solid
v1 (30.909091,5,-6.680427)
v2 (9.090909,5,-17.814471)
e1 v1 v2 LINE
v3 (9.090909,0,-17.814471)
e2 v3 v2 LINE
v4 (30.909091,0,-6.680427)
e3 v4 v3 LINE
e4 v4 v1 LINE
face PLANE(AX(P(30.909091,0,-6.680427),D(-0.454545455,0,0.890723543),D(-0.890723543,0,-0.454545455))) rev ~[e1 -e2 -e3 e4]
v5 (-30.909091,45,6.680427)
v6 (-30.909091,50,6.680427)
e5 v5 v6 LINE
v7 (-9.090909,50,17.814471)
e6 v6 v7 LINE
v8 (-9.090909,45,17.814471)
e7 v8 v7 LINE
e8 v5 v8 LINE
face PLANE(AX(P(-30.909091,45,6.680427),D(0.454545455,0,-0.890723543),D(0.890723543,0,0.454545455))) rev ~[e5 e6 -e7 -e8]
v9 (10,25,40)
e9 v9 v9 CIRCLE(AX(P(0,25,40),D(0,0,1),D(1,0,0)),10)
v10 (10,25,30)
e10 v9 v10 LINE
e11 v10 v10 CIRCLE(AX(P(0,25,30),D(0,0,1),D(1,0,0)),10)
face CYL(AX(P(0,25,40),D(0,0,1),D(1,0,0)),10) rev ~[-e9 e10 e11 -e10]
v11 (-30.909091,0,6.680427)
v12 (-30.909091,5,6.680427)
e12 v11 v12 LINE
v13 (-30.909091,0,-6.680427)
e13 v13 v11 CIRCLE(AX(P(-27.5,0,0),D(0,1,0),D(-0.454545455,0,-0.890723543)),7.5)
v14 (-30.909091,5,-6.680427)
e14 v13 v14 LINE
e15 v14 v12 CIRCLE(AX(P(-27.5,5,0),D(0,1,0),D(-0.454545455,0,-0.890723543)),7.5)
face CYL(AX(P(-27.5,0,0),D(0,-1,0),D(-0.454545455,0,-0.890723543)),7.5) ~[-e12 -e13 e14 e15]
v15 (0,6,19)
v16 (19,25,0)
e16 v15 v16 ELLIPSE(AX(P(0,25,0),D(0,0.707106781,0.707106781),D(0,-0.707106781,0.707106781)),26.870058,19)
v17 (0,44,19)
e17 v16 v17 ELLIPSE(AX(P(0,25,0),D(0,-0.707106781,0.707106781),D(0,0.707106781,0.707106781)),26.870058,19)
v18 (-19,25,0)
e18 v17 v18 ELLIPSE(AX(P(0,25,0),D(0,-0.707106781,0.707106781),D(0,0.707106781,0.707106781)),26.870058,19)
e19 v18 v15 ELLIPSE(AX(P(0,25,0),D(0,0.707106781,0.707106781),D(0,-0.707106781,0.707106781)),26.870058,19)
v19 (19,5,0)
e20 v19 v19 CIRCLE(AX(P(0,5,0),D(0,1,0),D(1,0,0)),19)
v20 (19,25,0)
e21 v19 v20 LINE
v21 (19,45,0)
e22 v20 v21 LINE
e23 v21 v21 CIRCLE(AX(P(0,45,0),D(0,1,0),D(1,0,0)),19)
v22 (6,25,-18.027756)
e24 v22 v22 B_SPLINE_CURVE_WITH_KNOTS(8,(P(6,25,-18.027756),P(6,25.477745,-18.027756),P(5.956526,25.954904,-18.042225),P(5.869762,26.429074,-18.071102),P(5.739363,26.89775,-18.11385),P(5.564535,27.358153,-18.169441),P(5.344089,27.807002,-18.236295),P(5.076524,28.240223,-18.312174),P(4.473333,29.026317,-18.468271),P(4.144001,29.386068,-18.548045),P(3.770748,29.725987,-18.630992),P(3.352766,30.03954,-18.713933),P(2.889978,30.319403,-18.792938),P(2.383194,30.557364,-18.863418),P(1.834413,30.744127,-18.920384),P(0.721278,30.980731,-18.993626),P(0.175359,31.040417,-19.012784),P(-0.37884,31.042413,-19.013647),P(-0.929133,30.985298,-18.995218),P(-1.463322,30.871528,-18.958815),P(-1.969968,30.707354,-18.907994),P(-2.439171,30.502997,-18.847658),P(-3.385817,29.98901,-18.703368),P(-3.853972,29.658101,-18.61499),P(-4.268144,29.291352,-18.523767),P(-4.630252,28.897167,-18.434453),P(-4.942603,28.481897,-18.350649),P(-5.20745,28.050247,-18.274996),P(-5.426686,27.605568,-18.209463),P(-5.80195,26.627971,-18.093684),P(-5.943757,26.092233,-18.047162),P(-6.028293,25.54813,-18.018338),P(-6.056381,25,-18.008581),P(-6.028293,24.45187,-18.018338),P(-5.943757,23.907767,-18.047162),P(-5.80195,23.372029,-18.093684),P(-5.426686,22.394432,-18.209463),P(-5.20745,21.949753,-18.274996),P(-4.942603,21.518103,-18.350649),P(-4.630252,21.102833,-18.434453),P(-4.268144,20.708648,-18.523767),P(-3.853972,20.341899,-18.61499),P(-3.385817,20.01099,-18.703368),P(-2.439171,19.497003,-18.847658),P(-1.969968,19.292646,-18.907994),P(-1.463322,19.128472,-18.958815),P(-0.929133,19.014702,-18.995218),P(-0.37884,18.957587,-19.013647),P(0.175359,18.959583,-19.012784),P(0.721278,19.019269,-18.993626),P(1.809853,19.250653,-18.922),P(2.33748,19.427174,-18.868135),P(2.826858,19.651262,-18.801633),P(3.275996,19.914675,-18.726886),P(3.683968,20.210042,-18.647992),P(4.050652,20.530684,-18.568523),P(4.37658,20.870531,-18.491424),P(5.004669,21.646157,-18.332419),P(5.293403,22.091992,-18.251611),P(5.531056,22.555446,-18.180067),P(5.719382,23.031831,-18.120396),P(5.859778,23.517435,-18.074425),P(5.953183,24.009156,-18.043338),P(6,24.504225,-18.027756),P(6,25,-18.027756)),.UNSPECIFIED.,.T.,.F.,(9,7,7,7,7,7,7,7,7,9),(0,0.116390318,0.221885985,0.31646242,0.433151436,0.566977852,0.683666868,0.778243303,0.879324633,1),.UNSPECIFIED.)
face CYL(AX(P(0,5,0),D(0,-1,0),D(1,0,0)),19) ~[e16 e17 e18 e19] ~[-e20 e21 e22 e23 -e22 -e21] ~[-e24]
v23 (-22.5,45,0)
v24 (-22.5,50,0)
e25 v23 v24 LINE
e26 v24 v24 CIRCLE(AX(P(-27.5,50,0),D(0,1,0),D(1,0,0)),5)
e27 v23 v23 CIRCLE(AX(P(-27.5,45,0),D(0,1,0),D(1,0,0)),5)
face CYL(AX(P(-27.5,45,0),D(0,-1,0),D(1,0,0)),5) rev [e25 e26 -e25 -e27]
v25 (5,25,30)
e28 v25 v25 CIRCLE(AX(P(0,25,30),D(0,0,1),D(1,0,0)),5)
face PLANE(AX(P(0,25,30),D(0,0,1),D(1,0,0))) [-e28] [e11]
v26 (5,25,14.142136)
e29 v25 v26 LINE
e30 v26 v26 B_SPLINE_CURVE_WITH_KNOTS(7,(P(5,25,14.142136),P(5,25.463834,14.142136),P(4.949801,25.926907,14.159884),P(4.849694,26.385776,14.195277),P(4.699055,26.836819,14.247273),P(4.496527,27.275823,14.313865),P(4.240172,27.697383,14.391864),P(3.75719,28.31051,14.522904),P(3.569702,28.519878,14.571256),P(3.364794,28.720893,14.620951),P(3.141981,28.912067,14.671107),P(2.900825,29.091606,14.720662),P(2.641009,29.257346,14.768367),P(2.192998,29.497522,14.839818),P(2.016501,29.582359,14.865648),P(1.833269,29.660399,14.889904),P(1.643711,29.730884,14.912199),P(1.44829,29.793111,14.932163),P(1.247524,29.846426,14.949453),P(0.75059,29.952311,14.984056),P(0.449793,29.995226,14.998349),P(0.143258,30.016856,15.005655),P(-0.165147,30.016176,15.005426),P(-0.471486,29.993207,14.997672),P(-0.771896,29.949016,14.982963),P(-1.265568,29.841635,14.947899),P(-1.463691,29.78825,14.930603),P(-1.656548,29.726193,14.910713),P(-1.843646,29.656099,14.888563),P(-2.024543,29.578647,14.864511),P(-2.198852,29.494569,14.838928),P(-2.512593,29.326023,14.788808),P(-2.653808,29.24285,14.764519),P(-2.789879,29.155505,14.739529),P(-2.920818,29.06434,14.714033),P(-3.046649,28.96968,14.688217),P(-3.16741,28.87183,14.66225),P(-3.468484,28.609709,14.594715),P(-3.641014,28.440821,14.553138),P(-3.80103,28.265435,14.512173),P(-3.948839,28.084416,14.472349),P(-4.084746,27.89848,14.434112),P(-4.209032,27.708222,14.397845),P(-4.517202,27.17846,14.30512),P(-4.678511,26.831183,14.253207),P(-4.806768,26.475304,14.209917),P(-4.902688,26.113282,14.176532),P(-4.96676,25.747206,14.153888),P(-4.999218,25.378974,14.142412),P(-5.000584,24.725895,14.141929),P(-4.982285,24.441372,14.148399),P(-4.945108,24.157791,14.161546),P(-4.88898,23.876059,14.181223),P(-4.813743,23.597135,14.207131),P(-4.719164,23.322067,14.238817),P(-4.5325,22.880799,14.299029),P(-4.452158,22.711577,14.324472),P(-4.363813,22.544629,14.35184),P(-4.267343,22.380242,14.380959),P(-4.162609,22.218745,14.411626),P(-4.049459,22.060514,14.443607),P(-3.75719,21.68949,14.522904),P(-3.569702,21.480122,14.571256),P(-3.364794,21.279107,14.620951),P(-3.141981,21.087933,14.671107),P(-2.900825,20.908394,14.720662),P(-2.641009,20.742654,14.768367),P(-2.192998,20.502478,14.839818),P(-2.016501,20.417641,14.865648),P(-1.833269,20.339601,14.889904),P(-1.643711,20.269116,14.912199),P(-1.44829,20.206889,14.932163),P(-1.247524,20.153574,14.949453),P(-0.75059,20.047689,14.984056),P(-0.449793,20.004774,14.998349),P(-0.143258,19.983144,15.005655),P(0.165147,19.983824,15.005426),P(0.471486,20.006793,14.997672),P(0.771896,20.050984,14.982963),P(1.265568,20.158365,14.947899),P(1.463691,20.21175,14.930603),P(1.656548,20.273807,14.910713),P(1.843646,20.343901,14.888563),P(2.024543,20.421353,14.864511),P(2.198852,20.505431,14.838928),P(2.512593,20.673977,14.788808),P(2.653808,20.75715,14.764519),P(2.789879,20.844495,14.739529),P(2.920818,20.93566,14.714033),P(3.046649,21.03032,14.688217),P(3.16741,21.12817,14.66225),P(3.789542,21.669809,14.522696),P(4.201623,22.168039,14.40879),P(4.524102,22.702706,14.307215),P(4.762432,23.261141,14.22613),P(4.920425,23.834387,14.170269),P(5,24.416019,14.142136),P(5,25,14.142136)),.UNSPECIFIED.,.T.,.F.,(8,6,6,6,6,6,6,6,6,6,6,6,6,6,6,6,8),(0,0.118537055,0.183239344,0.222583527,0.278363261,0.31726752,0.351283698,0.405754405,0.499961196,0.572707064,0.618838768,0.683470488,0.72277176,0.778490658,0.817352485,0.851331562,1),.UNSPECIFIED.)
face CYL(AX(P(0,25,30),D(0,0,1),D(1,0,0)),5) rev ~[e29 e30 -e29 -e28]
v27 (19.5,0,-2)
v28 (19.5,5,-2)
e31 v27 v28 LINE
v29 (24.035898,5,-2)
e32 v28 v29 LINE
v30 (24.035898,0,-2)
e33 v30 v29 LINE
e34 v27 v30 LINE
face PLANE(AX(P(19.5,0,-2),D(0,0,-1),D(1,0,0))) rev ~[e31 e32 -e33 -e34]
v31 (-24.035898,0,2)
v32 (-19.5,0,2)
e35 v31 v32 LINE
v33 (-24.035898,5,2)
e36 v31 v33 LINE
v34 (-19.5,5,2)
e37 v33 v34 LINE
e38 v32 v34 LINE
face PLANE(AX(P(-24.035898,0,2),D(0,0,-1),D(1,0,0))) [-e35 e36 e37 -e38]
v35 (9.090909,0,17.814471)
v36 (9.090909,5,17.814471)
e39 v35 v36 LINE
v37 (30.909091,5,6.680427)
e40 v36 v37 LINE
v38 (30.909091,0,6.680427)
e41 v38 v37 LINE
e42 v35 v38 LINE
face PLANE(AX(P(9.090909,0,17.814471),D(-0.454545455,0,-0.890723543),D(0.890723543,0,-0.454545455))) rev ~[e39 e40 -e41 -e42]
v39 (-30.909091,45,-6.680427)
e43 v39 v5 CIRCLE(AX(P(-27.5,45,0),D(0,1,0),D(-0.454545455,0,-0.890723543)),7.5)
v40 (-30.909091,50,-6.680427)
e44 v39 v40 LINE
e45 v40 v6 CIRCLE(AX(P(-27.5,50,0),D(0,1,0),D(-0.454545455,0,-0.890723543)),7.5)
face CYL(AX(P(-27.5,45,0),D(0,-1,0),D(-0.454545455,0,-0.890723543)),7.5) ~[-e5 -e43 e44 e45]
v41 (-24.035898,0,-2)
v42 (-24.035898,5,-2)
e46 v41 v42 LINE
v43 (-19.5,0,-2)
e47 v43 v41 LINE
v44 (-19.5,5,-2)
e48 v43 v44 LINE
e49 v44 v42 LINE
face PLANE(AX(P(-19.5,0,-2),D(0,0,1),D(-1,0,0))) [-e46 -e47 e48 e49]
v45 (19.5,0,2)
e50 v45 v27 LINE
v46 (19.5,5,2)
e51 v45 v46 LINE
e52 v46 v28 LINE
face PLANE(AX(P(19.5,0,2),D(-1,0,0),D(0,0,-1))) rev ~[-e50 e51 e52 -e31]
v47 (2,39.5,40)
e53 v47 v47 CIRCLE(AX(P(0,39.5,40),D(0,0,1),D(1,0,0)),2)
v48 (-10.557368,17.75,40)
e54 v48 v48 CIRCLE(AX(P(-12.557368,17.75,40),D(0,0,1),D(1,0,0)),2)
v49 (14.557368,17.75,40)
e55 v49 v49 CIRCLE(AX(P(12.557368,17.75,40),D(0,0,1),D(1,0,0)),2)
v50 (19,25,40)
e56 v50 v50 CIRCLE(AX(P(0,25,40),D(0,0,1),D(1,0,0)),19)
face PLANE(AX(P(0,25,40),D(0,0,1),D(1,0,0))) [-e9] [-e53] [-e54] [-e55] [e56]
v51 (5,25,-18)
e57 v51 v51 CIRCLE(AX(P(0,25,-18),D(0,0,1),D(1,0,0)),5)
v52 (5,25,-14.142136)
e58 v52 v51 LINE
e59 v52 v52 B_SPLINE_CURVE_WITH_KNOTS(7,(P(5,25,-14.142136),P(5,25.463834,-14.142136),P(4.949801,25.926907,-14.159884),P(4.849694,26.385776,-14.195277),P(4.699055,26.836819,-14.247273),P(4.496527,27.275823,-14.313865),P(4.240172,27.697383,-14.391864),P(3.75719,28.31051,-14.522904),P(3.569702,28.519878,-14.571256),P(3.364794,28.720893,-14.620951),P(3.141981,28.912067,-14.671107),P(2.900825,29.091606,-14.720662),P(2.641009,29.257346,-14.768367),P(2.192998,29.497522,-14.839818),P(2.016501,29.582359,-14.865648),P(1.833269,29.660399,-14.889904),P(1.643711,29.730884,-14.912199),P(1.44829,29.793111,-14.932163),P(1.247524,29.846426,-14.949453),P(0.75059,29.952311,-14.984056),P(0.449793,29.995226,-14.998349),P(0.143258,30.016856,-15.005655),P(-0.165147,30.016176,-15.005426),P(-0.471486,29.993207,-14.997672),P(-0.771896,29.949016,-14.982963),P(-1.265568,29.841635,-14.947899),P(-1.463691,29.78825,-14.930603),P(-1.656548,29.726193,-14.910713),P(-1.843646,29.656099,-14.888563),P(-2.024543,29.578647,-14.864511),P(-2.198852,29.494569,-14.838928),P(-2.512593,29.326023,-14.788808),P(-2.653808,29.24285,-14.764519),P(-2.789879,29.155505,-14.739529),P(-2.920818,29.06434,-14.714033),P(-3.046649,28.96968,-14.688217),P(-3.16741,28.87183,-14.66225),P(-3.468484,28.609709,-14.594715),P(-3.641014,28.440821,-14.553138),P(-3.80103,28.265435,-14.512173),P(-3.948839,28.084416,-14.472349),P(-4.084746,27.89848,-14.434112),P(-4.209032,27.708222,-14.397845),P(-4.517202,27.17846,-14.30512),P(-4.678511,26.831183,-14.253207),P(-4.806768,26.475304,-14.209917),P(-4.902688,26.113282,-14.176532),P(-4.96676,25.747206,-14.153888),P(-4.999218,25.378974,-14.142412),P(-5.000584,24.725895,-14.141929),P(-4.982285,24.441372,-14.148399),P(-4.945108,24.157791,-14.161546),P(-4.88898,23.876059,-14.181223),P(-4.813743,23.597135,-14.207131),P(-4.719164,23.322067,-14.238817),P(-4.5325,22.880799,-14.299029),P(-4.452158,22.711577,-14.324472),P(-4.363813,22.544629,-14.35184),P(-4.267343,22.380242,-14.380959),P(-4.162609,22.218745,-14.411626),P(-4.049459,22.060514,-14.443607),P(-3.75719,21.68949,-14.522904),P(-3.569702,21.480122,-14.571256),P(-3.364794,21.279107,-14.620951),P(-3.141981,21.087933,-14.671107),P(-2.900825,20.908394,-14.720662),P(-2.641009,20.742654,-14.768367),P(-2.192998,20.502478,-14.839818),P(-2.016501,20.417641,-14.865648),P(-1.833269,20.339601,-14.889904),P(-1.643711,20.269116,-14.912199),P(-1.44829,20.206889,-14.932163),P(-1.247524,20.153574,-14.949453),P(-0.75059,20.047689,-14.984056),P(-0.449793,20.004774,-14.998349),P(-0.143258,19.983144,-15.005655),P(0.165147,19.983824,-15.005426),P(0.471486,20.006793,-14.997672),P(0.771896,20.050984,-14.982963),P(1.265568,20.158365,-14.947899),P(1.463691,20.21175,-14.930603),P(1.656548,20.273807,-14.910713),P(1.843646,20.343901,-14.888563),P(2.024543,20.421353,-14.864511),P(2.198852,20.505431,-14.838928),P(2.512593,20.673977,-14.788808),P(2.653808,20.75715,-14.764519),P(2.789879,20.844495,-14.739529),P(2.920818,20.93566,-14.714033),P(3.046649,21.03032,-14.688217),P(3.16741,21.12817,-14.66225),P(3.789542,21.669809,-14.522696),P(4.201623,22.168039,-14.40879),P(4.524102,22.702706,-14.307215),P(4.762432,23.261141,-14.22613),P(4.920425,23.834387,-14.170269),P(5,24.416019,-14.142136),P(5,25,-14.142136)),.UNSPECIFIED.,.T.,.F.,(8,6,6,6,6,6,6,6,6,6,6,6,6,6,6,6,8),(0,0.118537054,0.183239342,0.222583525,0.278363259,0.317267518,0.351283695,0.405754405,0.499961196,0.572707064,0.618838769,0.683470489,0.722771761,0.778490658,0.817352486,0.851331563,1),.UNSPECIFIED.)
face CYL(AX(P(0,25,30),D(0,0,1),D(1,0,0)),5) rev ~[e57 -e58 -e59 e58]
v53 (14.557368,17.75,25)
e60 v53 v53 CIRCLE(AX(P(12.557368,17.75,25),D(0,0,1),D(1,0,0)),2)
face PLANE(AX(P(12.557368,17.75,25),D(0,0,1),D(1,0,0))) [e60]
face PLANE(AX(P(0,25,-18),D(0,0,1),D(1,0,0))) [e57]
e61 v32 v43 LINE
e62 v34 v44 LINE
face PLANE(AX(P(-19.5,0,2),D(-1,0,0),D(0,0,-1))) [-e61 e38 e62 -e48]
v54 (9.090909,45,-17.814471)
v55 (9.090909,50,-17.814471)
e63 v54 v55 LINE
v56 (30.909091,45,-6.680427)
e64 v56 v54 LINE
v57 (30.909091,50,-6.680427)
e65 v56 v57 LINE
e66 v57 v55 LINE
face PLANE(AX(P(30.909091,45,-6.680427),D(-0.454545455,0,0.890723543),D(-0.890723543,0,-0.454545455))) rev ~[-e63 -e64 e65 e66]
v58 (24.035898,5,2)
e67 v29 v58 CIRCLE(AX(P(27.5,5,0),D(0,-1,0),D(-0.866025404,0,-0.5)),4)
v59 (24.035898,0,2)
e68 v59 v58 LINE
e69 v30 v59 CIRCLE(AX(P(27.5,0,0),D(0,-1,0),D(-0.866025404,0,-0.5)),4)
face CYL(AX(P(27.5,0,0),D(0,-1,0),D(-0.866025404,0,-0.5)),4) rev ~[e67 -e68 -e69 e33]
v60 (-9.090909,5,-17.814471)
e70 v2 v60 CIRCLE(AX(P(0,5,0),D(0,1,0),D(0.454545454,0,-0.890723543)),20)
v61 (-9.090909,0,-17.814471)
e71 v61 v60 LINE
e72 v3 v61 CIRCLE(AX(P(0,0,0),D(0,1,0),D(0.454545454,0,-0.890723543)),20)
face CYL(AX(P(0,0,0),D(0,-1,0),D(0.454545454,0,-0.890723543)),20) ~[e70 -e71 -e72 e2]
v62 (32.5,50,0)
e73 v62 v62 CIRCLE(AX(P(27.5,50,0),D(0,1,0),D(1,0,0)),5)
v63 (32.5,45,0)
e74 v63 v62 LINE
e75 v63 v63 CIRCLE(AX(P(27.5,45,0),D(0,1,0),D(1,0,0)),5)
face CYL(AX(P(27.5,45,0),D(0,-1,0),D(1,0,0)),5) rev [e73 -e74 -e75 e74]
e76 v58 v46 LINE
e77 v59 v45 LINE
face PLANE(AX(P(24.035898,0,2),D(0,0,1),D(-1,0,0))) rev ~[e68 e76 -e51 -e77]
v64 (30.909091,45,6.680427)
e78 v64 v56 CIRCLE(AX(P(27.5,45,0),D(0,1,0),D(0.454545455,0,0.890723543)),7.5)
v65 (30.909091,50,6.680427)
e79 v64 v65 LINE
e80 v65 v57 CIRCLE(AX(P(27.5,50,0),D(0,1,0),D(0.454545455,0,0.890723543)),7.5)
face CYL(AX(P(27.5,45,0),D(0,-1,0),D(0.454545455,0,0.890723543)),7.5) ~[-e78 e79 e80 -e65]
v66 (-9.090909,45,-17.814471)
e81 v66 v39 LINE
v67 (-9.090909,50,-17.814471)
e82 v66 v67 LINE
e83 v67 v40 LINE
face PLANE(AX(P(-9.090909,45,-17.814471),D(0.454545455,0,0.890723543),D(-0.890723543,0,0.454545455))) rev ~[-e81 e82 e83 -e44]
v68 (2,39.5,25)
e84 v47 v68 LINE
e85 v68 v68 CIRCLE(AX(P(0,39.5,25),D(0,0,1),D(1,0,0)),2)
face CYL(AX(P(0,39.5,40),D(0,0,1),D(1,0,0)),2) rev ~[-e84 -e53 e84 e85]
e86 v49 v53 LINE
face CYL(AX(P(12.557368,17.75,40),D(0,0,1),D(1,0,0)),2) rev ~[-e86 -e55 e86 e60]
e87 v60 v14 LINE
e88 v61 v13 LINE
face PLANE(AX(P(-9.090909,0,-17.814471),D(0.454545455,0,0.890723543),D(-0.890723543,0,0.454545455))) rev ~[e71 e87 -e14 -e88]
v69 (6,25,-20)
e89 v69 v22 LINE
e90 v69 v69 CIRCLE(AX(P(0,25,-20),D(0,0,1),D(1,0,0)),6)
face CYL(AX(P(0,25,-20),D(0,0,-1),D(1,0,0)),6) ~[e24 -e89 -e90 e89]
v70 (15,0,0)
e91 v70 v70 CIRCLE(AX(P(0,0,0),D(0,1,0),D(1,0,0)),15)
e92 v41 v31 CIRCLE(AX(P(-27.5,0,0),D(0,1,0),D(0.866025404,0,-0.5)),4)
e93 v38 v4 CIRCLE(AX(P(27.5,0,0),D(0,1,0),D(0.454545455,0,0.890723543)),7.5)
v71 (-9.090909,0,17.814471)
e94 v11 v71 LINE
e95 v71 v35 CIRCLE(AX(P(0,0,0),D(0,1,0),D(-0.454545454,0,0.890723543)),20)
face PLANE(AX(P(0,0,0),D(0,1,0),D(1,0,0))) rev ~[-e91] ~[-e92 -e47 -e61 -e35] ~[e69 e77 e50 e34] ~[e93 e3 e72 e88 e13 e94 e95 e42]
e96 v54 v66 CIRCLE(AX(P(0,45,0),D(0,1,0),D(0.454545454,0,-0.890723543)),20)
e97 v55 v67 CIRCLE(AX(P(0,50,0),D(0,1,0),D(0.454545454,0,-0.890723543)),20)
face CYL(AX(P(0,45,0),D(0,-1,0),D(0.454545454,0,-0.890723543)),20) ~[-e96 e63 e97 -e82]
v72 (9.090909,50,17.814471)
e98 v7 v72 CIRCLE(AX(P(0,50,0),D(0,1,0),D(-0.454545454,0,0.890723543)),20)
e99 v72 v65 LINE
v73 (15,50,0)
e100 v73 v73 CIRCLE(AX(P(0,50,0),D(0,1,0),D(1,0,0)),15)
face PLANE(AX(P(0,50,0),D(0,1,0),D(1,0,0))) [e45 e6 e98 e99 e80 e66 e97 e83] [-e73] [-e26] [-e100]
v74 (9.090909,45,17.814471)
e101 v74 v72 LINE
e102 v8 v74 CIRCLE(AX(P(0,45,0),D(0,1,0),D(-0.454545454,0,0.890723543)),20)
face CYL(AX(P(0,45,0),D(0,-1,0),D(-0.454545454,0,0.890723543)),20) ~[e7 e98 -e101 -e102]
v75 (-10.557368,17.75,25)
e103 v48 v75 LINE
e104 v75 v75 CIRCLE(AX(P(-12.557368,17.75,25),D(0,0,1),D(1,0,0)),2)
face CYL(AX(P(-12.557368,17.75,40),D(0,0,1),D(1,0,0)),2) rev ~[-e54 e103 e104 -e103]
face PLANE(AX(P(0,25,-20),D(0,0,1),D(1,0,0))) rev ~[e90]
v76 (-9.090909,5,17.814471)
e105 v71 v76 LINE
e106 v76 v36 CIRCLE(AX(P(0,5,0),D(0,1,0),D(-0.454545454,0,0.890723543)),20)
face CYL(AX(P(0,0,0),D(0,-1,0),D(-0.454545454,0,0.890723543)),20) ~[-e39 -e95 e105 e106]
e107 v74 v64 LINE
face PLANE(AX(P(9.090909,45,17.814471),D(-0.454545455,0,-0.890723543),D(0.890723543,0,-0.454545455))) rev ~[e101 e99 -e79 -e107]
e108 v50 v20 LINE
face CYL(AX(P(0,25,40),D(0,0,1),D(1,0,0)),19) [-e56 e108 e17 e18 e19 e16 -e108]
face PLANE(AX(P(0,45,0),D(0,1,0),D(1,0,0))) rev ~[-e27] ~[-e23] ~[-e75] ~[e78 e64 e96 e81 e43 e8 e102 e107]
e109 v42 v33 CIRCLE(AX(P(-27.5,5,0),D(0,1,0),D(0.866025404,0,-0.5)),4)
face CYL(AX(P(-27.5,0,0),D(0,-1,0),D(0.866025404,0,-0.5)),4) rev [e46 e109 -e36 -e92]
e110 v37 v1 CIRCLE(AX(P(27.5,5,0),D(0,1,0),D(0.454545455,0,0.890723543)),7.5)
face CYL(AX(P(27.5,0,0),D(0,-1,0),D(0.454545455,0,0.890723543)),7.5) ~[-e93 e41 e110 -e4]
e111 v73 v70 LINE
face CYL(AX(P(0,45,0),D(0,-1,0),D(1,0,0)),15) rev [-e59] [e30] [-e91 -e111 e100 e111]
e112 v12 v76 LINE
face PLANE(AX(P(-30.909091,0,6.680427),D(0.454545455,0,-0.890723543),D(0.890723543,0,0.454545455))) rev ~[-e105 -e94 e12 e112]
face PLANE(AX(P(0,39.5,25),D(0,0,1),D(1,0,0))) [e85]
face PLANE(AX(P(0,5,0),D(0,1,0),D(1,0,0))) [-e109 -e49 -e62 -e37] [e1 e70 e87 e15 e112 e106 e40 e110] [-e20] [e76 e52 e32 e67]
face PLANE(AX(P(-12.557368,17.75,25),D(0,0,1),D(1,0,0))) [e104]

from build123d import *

# Parameters (mm, degrees)
SKETCH1_R           = 15
BOSS_EXTRUDE1_DEPTH = 5
SKETCH2_R           = 19
SKETCH2_R_2         = 15
BOSS_EXTRUDE2_DEPTH = 40
SKETCH3_R           = 5
SKETCH3_R_2         = 15
BOSS_EXTRUDE4_DEPTH = 5
BOSS_EXTRUDE5_REACH = 62
SKETCH4_R           = 19
SKETCH5_R           = 10
CUT_EXTRUDE1_DEPTH  = 10
SKETCH6_R           = 5
CUT_EXTRUDE2_DEPTH  = 48
BOSS_EXTRUDE6_REACH = 62
SKETCH7_R           = 6
SKETCH8_R           = 2
CUT_EXTRUDE3_DEPTH  = 15


with BuildPart() as part:
    # Sketch1 → Boss-Extrude1 (new body)
    with BuildSketch(Plane(origin=(0, 0, 0), x_dir=(1, 0, 0), z_dir=(0, 1, 0))):
        with BuildLine():
            Line((-9.090909091, 17.814470857), (-30.909090909, 6.680426571))
            ThreePointArc((-30.909090909, 6.680426571), (-35, 0), (-30.909090909, -6.680426571))
            Line((-30.909090909, -6.680426571), (-9.090909091, -17.814470857))
            ThreePointArc((-9.090909091, -17.814470857), (0, -20), (9.090909091, -17.814470857))
            Line((9.090909091, -17.814470857), (30.909090909, -6.680426571))
            ThreePointArc((30.909090909, -6.680426571), (35, 0), (30.909090909, 6.680426571))
            Line((30.909090909, 6.680426571), (9.090909091, 17.814470857))
            ThreePointArc((9.090909091, 17.814470857), (0, 20), (-9.090909091, 17.814470857))
        make_face()
        Circle(SKETCH1_R, mode=Mode.SUBTRACT)
        with BuildLine():
            Line((-23.5, 2), (-24.035898385, 2))
            ThreePointArc((-24.035898385, 2), (-31.5, 0), (-24.035898385, -2))
            Line((-24.035898385, -2), (-23.5, -2))
            Line((-23.5, -2), (-19.5, -2))
            Line((-19.5, -2), (-19.5, 2))
            Line((-19.5, 2), (-23.5, 2))
        make_face(mode=Mode.SUBTRACT)
        with BuildLine():
            Line((23.5, 2), (24.035898385, 2))
            ThreePointArc((24.035898385, 2), (31.5, 0), (24.035898385, -2))
            Line((24.035898385, -2), (23.5, -2))
            Line((23.5, -2), (19.5, -2))
            Line((19.5, -2), (19.5, 2))
            Line((19.5, 2), (23.5, 2))
        make_face(mode=Mode.SUBTRACT)
    extrude(amount=BOSS_EXTRUDE1_DEPTH)

    # Sketch2 → Boss-Extrude2 (add)
    with BuildSketch(Plane(origin=(0, 5, 0), x_dir=(1, 0, 0), z_dir=(0, 1, 0))):
        Circle(SKETCH2_R)
        Circle(SKETCH2_R_2, mode=Mode.SUBTRACT)
    extrude(amount=BOSS_EXTRUDE2_DEPTH)

    # Sketch3 → Boss-Extrude4 (add)
    with BuildSketch(Plane(origin=(0, 45, 0), x_dir=(1, 0, 0), z_dir=(0, 1, 0))):
        with BuildLine():
            Line((9.090909091, -17.814470857), (30.909090909, -6.680426571))
            ThreePointArc((30.909090909, -6.680426571), (35, 0), (30.909090909, 6.680426571))
            Line((30.909090909, 6.680426571), (9.090909091, 17.814470857))
            ThreePointArc((9.090909091, 17.814470857), (0, 20), (-9.090909091, 17.814470857))
            Line((-9.090909091, 17.814470857), (-30.909090909, 6.680426571))
            ThreePointArc((-30.909090909, 6.680426571), (-35, 0), (-30.909090909, -6.680426571))
            Line((-30.909090909, -6.680426571), (-9.090909091, -17.814470857))
            ThreePointArc((-9.090909091, -17.814470857), (0, -20), (9.090909091, -17.814470857))
        make_face()
        with Locations((-27.5, 0)):
            Circle(SKETCH3_R, mode=Mode.SUBTRACT)
        with Locations((27.5, 0)):
            Circle(SKETCH3_R, mode=Mode.SUBTRACT)
        Circle(SKETCH3_R_2, mode=Mode.SUBTRACT)
    extrude(amount=BOSS_EXTRUDE4_DEPTH)

    # Sketch4 → Boss-Extrude5 (add, up to next)
    with BuildSketch(Plane.XY.offset(40), mode=Mode.PRIVATE) as boss_extrude5_sk1:
        with Locations((0, 25)):
            Circle(SKETCH4_R)
    boss_extrude5_tool1 = extrude(boss_extrude5_sk1.sketch, amount=-BOSS_EXTRUDE5_REACH, mode=Mode.PRIVATE) - part.part
    add(boss_extrude5_tool1.solids().sort_by_distance((0, 25, 40))[0])

    # Sketch5 → Cut-Extrude1 (cut)
    with BuildSketch(Plane.XY.offset(40)):
        with Locations((0, 25)):
            Circle(SKETCH5_R)
    extrude(amount=-CUT_EXTRUDE1_DEPTH, mode=Mode.SUBTRACT)

    # Sketch6 → Cut-Extrude2 (cut)
    with BuildSketch(Plane.XY.offset(30)):
        with Locations((0, 25)):
            Circle(SKETCH6_R)
    extrude(amount=-CUT_EXTRUDE2_DEPTH, mode=Mode.SUBTRACT)

    # Sketch7 → Boss-Extrude6 (add, up to next)
    with BuildSketch(Plane.XY.offset(-20), mode=Mode.PRIVATE) as boss_extrude6_sk1:
        with Locations((0, 25)):
            Circle(SKETCH7_R)
    boss_extrude6_tool1 = extrude(boss_extrude6_sk1.sketch, amount=BOSS_EXTRUDE6_REACH, mode=Mode.PRIVATE) - part.part
    add(boss_extrude6_tool1.solids().sort_by_distance((0, 25, -20))[0])

    # Sketch8 → Cut-Extrude3 (cut)
    with BuildSketch(Plane.XY.offset(40)):
        with Locations((0, 39.5)):
            Circle(SKETCH8_R)
        with Locations((12.557368355, 17.75)):
            Circle(SKETCH8_R)
        with Locations((-12.557368355, 17.75)):
            Circle(SKETCH8_R)
    extrude(amount=-CUT_EXTRUDE3_DEPTH, mode=Mode.SUBTRACT)


solid = part.part
